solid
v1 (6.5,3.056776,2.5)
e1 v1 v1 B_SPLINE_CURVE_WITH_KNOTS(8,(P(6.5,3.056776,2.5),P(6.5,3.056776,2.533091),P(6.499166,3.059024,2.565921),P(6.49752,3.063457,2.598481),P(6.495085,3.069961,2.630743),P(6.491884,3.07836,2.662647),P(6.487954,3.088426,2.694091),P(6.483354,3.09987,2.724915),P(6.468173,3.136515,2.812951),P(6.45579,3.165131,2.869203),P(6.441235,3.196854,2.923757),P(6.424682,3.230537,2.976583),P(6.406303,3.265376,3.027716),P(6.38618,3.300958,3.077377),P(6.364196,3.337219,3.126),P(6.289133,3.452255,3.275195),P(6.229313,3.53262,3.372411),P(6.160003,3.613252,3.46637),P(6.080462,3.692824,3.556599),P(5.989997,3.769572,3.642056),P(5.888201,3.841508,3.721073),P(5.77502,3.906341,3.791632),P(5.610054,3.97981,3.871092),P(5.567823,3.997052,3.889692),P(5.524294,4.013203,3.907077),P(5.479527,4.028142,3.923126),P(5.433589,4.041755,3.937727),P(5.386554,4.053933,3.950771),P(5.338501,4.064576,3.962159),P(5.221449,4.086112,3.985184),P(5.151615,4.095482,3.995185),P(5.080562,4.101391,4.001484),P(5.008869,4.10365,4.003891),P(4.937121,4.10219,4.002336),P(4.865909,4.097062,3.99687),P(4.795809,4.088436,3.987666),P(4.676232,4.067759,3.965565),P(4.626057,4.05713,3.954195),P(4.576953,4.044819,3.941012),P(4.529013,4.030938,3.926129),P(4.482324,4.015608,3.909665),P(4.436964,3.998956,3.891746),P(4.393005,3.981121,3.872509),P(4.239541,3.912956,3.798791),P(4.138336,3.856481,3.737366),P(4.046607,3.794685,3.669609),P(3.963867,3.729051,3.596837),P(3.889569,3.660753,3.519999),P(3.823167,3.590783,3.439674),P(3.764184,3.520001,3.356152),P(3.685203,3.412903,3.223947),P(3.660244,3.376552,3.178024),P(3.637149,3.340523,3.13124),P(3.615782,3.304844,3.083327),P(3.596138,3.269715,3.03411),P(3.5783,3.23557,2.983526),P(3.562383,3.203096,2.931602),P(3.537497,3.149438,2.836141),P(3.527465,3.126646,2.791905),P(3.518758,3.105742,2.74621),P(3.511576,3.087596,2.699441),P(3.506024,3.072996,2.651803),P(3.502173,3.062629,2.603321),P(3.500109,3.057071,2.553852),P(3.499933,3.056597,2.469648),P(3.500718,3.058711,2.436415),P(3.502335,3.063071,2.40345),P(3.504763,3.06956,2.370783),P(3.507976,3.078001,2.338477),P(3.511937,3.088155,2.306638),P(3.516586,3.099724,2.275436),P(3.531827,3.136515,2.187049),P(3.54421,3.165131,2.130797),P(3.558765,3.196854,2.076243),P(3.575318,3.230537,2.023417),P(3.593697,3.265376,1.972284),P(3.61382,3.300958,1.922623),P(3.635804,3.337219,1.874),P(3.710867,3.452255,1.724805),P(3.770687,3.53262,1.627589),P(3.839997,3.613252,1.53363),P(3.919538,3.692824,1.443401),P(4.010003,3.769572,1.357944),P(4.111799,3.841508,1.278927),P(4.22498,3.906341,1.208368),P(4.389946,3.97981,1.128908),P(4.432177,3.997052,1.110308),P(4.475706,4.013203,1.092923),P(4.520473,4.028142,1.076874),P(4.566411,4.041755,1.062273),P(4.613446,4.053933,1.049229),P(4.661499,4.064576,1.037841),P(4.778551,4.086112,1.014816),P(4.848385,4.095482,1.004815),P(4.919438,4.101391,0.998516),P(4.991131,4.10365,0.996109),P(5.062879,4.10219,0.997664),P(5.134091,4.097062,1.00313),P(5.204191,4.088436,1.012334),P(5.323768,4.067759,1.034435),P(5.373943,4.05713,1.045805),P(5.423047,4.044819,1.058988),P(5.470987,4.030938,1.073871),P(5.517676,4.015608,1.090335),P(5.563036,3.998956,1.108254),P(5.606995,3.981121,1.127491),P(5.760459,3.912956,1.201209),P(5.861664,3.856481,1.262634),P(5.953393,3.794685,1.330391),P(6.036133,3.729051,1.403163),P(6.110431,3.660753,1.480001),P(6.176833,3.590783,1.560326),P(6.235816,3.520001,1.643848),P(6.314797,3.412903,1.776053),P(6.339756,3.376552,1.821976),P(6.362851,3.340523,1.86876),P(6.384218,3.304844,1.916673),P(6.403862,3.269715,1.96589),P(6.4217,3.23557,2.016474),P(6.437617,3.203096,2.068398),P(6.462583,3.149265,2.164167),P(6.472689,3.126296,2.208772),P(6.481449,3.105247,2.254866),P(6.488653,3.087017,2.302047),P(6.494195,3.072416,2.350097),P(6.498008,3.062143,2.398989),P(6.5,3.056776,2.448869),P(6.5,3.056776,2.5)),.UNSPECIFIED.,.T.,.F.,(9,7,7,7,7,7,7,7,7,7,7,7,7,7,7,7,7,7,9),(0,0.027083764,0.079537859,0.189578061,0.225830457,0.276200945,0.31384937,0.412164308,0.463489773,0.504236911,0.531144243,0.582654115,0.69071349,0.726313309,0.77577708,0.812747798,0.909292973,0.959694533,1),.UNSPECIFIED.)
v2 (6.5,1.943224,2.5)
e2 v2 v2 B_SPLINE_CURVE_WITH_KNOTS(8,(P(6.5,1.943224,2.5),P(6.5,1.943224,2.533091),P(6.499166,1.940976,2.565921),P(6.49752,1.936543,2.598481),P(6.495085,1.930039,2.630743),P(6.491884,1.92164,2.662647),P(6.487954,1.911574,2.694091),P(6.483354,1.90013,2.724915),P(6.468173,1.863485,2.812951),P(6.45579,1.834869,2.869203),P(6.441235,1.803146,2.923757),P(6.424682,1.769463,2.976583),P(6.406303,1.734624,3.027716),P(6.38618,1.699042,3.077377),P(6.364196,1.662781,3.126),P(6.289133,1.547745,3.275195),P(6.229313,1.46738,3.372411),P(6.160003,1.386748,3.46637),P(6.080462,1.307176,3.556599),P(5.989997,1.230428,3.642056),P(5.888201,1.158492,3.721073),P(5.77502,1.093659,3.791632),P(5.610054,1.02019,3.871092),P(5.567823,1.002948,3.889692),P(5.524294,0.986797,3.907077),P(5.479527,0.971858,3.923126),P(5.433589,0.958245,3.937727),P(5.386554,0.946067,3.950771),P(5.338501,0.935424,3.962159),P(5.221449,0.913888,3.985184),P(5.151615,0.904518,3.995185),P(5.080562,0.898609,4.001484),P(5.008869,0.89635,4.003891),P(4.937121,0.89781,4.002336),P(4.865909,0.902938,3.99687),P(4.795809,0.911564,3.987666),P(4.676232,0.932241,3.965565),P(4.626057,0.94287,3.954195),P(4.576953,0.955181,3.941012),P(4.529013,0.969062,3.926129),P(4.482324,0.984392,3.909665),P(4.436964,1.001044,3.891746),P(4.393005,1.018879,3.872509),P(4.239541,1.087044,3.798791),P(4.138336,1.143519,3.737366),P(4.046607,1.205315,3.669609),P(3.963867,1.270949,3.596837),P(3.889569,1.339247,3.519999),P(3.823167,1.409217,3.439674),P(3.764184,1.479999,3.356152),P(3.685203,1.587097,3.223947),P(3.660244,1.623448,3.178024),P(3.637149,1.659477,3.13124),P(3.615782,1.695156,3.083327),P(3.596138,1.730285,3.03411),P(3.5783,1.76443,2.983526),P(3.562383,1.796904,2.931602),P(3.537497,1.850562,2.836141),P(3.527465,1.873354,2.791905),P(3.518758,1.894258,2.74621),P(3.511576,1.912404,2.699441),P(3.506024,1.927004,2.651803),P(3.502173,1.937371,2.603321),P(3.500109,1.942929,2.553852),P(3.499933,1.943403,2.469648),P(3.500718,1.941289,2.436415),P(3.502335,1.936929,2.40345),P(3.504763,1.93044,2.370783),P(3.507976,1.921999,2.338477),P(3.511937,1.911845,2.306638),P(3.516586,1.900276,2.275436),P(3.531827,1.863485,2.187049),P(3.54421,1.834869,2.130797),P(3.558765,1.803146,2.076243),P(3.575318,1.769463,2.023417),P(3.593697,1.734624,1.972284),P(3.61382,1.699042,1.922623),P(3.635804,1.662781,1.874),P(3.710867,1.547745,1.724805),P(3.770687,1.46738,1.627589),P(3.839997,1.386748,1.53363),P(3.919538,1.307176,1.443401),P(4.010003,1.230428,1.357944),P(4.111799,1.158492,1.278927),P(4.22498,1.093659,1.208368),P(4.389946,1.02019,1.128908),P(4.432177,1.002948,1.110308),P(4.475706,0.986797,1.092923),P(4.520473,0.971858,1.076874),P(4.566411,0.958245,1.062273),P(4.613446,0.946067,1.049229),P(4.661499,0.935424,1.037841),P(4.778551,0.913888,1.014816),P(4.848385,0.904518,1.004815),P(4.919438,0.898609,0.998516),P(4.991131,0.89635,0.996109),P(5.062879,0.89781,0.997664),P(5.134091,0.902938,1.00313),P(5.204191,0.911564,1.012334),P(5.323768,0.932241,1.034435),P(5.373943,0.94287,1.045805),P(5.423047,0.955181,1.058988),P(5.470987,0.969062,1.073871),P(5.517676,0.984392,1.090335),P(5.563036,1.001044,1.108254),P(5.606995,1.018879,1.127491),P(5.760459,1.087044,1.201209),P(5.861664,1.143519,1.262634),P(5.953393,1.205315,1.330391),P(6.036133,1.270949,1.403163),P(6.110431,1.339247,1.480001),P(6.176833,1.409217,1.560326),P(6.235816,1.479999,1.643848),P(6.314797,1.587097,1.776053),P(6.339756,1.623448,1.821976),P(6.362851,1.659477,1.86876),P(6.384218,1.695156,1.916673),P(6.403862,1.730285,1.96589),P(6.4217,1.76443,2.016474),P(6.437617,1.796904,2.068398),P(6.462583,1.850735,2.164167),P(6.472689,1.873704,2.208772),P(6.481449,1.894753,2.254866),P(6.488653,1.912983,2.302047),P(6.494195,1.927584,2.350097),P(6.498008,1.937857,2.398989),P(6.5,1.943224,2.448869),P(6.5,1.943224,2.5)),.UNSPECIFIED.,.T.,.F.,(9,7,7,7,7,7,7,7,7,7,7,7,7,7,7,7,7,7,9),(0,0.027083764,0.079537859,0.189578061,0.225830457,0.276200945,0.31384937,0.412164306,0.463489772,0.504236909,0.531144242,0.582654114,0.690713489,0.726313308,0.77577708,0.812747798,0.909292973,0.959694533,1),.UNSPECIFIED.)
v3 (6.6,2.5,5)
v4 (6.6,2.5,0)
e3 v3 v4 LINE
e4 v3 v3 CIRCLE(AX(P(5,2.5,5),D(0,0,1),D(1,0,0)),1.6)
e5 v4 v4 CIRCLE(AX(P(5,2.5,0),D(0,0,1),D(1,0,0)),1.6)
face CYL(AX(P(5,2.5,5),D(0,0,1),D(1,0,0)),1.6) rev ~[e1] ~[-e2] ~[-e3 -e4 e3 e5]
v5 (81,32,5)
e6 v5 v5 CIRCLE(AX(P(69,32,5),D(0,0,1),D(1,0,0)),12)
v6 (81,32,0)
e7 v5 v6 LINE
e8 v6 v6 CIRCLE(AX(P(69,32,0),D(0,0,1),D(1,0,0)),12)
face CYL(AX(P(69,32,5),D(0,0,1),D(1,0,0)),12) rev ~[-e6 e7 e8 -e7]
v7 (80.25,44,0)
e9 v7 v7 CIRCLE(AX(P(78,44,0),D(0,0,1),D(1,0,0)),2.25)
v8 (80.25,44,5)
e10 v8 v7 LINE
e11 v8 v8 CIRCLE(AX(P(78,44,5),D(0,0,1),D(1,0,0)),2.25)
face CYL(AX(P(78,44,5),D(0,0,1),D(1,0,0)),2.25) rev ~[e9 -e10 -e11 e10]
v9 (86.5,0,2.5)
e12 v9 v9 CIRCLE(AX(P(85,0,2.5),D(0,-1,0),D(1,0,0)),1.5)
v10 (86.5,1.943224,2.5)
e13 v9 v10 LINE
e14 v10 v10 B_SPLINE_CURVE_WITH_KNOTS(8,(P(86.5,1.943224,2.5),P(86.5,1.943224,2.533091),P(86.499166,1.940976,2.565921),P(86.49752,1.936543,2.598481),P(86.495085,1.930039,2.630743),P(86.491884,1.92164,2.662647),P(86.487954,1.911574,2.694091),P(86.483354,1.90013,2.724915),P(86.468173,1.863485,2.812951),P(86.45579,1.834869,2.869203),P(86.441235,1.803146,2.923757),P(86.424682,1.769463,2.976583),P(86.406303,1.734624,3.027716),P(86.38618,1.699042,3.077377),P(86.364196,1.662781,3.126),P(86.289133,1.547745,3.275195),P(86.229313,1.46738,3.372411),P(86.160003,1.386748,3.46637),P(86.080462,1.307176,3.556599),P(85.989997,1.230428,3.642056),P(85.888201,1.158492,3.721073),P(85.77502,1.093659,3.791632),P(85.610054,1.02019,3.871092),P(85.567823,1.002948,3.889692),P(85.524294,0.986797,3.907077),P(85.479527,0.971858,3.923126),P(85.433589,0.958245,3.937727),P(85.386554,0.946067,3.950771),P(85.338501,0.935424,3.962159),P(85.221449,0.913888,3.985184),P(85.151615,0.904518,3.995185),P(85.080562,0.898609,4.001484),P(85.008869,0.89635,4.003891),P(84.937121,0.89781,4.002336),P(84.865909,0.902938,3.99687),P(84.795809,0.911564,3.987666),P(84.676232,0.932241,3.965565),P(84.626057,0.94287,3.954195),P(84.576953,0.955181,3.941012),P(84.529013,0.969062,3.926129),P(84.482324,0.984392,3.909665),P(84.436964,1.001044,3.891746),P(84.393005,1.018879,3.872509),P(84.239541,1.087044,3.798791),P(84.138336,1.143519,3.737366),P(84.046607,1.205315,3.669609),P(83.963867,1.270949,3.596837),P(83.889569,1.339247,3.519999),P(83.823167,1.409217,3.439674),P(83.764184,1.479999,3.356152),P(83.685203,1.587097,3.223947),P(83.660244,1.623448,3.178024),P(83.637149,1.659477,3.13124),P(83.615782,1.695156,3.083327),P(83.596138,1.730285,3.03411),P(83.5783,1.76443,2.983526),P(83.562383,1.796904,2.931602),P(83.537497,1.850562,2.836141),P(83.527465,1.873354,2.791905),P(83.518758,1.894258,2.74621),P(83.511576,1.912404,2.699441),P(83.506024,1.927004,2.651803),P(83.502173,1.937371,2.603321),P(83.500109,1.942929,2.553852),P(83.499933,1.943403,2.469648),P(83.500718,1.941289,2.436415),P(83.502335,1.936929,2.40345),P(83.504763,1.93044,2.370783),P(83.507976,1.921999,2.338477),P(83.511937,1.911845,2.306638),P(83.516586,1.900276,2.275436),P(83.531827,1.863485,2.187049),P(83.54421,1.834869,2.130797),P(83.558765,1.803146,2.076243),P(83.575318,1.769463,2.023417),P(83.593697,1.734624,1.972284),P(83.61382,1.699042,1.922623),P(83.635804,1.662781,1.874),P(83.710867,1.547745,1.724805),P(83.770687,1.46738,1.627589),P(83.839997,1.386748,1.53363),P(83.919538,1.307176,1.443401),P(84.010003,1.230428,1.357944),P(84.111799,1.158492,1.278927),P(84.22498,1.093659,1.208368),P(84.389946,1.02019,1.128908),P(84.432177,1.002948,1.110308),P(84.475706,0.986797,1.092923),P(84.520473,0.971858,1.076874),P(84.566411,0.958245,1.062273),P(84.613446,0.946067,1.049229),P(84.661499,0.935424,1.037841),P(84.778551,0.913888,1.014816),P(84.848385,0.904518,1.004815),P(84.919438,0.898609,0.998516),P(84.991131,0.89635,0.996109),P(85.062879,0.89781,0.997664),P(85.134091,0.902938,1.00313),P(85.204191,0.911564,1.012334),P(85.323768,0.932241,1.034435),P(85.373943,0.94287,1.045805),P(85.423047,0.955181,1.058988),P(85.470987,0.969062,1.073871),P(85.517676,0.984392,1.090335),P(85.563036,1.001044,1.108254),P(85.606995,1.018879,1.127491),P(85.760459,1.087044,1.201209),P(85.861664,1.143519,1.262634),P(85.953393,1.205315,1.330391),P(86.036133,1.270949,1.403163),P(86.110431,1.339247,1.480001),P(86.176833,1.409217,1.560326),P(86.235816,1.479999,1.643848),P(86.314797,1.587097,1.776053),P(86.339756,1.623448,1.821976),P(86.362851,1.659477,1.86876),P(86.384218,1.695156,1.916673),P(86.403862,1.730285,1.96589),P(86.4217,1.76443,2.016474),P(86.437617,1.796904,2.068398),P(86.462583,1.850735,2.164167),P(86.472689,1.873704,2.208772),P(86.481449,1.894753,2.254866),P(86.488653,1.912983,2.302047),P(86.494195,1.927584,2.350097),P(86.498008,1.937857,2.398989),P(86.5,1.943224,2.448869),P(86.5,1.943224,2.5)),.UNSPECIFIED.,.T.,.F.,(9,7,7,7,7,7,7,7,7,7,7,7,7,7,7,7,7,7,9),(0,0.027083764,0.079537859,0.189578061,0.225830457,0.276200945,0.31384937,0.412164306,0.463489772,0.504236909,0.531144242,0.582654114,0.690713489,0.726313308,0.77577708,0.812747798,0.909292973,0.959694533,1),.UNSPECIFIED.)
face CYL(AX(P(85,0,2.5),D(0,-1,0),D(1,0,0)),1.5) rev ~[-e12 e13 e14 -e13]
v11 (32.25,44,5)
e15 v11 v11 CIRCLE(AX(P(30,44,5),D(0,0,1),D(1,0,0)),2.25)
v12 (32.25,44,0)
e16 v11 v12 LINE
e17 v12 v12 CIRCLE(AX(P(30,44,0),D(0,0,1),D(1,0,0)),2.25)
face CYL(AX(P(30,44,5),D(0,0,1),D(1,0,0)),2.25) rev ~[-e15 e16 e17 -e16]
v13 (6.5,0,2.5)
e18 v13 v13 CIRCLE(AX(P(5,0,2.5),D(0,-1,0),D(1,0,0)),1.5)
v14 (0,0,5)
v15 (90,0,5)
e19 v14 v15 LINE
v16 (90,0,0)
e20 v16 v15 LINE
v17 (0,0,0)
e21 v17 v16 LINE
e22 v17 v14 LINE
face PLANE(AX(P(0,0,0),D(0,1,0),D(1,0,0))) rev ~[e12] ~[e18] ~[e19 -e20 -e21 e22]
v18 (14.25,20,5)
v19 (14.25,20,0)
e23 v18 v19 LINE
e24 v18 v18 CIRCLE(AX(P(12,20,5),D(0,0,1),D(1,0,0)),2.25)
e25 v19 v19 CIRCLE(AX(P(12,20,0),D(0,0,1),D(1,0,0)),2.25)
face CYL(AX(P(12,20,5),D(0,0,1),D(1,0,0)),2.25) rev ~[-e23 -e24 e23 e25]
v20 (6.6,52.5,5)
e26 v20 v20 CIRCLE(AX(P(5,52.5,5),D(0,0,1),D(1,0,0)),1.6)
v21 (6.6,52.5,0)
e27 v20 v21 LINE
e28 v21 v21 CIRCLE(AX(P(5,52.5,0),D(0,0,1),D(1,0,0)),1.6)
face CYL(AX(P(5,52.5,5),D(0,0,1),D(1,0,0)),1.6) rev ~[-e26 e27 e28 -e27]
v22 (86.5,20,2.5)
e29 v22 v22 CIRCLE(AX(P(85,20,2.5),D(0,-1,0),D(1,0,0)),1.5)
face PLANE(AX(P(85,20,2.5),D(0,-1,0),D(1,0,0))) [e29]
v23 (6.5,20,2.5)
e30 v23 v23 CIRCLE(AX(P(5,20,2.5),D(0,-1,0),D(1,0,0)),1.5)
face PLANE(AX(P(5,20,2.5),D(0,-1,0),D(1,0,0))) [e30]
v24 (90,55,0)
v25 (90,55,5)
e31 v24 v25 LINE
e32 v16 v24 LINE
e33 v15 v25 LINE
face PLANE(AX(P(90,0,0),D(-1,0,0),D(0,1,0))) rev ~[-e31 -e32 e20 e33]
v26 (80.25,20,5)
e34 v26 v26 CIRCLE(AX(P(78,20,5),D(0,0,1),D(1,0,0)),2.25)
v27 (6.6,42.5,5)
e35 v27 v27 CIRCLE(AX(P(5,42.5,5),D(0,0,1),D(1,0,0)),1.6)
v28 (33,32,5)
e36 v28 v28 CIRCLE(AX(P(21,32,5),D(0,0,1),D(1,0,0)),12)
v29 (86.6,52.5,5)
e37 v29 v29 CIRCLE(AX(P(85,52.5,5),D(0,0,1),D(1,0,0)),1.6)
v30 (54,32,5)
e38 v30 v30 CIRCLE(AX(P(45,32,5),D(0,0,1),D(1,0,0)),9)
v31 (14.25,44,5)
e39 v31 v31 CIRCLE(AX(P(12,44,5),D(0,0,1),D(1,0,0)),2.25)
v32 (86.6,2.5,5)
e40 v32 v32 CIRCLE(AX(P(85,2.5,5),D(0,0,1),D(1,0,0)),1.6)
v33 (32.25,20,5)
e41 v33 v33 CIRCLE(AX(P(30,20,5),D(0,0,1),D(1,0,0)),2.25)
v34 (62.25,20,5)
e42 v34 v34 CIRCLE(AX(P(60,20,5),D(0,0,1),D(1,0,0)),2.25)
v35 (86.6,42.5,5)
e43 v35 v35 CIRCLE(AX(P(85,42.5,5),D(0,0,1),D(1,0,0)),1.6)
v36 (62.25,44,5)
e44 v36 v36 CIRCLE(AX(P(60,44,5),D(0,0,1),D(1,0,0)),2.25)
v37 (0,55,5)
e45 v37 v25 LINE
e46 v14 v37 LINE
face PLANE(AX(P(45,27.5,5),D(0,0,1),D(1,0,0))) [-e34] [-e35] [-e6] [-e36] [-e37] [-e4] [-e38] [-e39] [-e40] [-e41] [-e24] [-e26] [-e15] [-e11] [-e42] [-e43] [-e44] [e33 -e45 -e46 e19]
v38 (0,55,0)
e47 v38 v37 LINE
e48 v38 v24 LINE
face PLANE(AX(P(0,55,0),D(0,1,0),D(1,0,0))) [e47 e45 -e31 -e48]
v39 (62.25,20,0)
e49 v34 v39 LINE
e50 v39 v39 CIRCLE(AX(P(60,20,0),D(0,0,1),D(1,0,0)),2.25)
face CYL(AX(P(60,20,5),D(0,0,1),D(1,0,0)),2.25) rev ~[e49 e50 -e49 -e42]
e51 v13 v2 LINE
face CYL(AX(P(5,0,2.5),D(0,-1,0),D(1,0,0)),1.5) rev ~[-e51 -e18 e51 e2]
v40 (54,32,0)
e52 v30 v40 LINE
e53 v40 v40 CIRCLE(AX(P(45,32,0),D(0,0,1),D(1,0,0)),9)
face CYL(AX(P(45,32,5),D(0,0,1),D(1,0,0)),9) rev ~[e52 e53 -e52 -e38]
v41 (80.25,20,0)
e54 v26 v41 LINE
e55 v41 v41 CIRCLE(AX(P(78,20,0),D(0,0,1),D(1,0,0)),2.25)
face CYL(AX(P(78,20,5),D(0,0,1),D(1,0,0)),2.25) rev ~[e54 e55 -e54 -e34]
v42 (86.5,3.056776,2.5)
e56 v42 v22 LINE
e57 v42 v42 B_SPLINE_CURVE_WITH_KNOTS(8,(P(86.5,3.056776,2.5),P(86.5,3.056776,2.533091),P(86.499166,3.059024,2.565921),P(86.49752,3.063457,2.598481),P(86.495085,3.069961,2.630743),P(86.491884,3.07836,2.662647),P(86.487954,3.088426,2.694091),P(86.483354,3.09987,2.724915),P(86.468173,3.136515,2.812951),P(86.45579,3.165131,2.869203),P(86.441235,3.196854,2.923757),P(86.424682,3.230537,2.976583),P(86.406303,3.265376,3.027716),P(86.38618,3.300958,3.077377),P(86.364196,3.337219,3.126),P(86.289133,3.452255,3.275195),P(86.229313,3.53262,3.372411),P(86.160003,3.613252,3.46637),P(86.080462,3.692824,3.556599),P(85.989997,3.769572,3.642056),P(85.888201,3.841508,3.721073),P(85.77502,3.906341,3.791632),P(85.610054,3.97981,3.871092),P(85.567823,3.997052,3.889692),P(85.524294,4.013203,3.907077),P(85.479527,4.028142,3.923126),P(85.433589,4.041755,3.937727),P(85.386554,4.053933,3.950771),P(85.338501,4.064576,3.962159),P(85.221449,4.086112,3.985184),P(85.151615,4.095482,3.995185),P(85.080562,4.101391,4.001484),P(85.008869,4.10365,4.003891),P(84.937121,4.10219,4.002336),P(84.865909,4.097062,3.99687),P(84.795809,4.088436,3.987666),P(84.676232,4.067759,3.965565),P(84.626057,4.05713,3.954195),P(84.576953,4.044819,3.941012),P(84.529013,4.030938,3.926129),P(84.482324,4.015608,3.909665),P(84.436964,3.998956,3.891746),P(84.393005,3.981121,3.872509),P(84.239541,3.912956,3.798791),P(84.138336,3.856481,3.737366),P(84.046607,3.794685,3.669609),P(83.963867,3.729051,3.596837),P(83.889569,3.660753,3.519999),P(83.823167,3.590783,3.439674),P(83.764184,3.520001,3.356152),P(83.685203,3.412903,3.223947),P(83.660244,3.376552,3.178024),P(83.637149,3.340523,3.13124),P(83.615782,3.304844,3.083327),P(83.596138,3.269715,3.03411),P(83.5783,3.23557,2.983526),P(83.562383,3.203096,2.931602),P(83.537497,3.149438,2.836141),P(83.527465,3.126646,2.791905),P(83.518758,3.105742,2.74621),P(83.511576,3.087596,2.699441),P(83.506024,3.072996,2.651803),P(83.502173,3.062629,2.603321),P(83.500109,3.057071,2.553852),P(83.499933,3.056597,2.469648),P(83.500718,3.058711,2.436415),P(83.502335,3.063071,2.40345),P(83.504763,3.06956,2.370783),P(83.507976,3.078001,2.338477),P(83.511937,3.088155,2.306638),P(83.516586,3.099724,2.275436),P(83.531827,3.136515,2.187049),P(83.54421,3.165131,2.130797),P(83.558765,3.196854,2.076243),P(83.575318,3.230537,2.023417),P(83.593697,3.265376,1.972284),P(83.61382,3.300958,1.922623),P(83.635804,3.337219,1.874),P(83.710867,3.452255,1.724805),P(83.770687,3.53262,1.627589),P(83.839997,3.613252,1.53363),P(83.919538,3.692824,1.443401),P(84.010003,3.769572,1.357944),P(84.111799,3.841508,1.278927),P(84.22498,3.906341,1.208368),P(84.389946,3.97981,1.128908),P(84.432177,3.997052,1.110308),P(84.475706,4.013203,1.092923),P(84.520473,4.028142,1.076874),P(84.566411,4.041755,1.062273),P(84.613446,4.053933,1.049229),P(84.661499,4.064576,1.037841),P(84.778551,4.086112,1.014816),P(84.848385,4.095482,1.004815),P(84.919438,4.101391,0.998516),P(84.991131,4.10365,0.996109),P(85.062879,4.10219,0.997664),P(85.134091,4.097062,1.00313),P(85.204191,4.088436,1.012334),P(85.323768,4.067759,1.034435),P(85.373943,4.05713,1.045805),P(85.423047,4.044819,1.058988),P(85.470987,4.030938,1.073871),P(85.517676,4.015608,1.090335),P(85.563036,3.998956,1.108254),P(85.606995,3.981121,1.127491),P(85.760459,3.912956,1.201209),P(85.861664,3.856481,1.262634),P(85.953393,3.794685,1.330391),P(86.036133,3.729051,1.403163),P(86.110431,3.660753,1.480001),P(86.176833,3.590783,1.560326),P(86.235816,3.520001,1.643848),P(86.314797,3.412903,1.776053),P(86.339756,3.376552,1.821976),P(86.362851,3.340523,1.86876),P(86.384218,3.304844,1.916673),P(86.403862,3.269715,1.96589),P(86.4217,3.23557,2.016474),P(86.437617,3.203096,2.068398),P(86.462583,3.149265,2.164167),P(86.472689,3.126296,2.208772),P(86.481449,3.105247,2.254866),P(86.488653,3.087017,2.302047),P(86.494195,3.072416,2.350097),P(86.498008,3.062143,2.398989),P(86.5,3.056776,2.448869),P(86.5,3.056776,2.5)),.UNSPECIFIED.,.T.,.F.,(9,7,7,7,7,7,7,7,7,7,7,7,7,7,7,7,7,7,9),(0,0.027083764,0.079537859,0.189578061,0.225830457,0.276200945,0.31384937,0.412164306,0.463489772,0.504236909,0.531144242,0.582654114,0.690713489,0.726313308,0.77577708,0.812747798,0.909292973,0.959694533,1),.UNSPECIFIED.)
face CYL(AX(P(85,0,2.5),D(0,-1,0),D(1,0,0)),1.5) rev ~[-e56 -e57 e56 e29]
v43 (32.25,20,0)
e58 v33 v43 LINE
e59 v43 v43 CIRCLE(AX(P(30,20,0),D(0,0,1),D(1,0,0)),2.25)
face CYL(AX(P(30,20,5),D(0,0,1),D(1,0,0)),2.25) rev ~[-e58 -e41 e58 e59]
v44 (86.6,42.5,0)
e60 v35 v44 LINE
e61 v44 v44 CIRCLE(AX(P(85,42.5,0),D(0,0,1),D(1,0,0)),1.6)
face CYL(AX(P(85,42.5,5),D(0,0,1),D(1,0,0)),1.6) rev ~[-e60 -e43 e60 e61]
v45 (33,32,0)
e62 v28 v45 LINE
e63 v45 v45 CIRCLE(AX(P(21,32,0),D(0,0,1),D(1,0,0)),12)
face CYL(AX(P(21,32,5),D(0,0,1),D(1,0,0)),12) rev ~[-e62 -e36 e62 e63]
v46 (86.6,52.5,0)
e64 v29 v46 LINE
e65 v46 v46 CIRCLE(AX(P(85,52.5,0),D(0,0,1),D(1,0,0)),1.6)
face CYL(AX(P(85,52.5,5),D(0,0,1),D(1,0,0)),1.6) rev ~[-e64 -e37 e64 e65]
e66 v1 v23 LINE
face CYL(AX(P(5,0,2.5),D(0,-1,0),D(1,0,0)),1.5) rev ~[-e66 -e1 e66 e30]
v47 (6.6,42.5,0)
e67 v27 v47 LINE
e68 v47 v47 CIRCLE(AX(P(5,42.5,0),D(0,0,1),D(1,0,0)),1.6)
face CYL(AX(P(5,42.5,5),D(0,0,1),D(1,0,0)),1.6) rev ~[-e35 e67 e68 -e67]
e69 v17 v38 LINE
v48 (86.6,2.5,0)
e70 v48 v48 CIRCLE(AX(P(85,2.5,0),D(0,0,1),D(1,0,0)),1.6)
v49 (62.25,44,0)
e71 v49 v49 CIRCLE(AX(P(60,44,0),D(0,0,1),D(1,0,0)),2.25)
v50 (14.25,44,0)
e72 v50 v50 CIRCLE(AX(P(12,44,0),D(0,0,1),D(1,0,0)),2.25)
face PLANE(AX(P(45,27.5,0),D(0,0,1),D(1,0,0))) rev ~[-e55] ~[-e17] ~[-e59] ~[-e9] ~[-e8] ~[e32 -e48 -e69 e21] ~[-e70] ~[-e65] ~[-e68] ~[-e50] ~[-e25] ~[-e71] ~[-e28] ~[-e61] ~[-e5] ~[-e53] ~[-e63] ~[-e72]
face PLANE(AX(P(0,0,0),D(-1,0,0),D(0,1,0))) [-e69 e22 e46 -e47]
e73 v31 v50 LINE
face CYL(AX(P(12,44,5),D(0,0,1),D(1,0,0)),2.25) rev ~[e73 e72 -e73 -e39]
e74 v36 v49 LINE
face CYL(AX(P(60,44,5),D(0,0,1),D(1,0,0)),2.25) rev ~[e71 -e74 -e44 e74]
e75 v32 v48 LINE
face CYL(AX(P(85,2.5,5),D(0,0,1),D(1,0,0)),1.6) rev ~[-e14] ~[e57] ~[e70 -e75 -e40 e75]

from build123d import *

# Parameters (mm, degrees)
SKETCH_W        = 90
SKETCH_H        = 55
PAD_DEPTH       = 5
SKETCH001_R     = 9
SKETCH001_R_2   = 12
SKETCH001_R_3   = 2.25
POCKET_DEPTH    = 5
SKETCH002_R     = 1.6
POCKET001_DEPTH = 5
SKETCH003_R     = 1.5
POCKET002_DEPTH = 20


with BuildPart() as part:
    # Sketch → Pad (new body)
    with BuildSketch(Plane.XY):
        with Locations((45, 27.5)):
            Rectangle(SKETCH_W, SKETCH_H)
    extrude(amount=PAD_DEPTH)

    # Sketch001 (on Face6 of Pad) → Pocket (cut)
    with BuildSketch(Plane.XY.offset(5)):
        with Locations((45, 32)):
            Circle(SKETCH001_R)
        with Locations((21, 32)):
            Circle(SKETCH001_R_2)
        with Locations((69, 32)):
            Circle(SKETCH001_R_2)
        with Locations((12, 44)):
            Circle(SKETCH001_R_3)
        with Locations((30, 44)):
            Circle(SKETCH001_R_3)
        with Locations((30, 20)):
            Circle(SKETCH001_R_3)
        with Locations((12, 20)):
            Circle(SKETCH001_R_3)
        with Locations((60, 44)):
            Circle(SKETCH001_R_3)
        with Locations((78, 44)):
            Circle(SKETCH001_R_3)
        with Locations((78, 20)):
            Circle(SKETCH001_R_3)
        with Locations((60, 20)):
            Circle(SKETCH001_R_3)
    extrude(amount=-POCKET_DEPTH, mode=Mode.SUBTRACT)

    # Sketch002 (on Face5 of Pocket) → Pocket001 (cut)
    with BuildSketch(Plane.XY.offset(5)):
        with Locations((5, 52.5)):
            Circle(SKETCH002_R)
        with Locations((5, 2.5)):
            Circle(SKETCH002_R)
        with Locations((85, 2.5)):
            Circle(SKETCH002_R)
        with Locations((85, 52.5)):
            Circle(SKETCH002_R)
        with Locations((5, 42.5)):
            Circle(SKETCH002_R)
        with Locations((85, 42.5)):
            Circle(SKETCH002_R)
    extrude(amount=-POCKET001_DEPTH, mode=Mode.SUBTRACT)

    # Sketch003 (on Face1 of Pocket001) → Pocket002 (cut)
    with BuildSketch(Plane.XZ):
        with Locations((85, 2.5)):
            Circle(SKETCH003_R)
        with Locations((5, 2.5)):
            Circle(SKETCH003_R)
    extrude(amount=-POCKET002_DEPTH, mode=Mode.SUBTRACT)


solid = part.part
